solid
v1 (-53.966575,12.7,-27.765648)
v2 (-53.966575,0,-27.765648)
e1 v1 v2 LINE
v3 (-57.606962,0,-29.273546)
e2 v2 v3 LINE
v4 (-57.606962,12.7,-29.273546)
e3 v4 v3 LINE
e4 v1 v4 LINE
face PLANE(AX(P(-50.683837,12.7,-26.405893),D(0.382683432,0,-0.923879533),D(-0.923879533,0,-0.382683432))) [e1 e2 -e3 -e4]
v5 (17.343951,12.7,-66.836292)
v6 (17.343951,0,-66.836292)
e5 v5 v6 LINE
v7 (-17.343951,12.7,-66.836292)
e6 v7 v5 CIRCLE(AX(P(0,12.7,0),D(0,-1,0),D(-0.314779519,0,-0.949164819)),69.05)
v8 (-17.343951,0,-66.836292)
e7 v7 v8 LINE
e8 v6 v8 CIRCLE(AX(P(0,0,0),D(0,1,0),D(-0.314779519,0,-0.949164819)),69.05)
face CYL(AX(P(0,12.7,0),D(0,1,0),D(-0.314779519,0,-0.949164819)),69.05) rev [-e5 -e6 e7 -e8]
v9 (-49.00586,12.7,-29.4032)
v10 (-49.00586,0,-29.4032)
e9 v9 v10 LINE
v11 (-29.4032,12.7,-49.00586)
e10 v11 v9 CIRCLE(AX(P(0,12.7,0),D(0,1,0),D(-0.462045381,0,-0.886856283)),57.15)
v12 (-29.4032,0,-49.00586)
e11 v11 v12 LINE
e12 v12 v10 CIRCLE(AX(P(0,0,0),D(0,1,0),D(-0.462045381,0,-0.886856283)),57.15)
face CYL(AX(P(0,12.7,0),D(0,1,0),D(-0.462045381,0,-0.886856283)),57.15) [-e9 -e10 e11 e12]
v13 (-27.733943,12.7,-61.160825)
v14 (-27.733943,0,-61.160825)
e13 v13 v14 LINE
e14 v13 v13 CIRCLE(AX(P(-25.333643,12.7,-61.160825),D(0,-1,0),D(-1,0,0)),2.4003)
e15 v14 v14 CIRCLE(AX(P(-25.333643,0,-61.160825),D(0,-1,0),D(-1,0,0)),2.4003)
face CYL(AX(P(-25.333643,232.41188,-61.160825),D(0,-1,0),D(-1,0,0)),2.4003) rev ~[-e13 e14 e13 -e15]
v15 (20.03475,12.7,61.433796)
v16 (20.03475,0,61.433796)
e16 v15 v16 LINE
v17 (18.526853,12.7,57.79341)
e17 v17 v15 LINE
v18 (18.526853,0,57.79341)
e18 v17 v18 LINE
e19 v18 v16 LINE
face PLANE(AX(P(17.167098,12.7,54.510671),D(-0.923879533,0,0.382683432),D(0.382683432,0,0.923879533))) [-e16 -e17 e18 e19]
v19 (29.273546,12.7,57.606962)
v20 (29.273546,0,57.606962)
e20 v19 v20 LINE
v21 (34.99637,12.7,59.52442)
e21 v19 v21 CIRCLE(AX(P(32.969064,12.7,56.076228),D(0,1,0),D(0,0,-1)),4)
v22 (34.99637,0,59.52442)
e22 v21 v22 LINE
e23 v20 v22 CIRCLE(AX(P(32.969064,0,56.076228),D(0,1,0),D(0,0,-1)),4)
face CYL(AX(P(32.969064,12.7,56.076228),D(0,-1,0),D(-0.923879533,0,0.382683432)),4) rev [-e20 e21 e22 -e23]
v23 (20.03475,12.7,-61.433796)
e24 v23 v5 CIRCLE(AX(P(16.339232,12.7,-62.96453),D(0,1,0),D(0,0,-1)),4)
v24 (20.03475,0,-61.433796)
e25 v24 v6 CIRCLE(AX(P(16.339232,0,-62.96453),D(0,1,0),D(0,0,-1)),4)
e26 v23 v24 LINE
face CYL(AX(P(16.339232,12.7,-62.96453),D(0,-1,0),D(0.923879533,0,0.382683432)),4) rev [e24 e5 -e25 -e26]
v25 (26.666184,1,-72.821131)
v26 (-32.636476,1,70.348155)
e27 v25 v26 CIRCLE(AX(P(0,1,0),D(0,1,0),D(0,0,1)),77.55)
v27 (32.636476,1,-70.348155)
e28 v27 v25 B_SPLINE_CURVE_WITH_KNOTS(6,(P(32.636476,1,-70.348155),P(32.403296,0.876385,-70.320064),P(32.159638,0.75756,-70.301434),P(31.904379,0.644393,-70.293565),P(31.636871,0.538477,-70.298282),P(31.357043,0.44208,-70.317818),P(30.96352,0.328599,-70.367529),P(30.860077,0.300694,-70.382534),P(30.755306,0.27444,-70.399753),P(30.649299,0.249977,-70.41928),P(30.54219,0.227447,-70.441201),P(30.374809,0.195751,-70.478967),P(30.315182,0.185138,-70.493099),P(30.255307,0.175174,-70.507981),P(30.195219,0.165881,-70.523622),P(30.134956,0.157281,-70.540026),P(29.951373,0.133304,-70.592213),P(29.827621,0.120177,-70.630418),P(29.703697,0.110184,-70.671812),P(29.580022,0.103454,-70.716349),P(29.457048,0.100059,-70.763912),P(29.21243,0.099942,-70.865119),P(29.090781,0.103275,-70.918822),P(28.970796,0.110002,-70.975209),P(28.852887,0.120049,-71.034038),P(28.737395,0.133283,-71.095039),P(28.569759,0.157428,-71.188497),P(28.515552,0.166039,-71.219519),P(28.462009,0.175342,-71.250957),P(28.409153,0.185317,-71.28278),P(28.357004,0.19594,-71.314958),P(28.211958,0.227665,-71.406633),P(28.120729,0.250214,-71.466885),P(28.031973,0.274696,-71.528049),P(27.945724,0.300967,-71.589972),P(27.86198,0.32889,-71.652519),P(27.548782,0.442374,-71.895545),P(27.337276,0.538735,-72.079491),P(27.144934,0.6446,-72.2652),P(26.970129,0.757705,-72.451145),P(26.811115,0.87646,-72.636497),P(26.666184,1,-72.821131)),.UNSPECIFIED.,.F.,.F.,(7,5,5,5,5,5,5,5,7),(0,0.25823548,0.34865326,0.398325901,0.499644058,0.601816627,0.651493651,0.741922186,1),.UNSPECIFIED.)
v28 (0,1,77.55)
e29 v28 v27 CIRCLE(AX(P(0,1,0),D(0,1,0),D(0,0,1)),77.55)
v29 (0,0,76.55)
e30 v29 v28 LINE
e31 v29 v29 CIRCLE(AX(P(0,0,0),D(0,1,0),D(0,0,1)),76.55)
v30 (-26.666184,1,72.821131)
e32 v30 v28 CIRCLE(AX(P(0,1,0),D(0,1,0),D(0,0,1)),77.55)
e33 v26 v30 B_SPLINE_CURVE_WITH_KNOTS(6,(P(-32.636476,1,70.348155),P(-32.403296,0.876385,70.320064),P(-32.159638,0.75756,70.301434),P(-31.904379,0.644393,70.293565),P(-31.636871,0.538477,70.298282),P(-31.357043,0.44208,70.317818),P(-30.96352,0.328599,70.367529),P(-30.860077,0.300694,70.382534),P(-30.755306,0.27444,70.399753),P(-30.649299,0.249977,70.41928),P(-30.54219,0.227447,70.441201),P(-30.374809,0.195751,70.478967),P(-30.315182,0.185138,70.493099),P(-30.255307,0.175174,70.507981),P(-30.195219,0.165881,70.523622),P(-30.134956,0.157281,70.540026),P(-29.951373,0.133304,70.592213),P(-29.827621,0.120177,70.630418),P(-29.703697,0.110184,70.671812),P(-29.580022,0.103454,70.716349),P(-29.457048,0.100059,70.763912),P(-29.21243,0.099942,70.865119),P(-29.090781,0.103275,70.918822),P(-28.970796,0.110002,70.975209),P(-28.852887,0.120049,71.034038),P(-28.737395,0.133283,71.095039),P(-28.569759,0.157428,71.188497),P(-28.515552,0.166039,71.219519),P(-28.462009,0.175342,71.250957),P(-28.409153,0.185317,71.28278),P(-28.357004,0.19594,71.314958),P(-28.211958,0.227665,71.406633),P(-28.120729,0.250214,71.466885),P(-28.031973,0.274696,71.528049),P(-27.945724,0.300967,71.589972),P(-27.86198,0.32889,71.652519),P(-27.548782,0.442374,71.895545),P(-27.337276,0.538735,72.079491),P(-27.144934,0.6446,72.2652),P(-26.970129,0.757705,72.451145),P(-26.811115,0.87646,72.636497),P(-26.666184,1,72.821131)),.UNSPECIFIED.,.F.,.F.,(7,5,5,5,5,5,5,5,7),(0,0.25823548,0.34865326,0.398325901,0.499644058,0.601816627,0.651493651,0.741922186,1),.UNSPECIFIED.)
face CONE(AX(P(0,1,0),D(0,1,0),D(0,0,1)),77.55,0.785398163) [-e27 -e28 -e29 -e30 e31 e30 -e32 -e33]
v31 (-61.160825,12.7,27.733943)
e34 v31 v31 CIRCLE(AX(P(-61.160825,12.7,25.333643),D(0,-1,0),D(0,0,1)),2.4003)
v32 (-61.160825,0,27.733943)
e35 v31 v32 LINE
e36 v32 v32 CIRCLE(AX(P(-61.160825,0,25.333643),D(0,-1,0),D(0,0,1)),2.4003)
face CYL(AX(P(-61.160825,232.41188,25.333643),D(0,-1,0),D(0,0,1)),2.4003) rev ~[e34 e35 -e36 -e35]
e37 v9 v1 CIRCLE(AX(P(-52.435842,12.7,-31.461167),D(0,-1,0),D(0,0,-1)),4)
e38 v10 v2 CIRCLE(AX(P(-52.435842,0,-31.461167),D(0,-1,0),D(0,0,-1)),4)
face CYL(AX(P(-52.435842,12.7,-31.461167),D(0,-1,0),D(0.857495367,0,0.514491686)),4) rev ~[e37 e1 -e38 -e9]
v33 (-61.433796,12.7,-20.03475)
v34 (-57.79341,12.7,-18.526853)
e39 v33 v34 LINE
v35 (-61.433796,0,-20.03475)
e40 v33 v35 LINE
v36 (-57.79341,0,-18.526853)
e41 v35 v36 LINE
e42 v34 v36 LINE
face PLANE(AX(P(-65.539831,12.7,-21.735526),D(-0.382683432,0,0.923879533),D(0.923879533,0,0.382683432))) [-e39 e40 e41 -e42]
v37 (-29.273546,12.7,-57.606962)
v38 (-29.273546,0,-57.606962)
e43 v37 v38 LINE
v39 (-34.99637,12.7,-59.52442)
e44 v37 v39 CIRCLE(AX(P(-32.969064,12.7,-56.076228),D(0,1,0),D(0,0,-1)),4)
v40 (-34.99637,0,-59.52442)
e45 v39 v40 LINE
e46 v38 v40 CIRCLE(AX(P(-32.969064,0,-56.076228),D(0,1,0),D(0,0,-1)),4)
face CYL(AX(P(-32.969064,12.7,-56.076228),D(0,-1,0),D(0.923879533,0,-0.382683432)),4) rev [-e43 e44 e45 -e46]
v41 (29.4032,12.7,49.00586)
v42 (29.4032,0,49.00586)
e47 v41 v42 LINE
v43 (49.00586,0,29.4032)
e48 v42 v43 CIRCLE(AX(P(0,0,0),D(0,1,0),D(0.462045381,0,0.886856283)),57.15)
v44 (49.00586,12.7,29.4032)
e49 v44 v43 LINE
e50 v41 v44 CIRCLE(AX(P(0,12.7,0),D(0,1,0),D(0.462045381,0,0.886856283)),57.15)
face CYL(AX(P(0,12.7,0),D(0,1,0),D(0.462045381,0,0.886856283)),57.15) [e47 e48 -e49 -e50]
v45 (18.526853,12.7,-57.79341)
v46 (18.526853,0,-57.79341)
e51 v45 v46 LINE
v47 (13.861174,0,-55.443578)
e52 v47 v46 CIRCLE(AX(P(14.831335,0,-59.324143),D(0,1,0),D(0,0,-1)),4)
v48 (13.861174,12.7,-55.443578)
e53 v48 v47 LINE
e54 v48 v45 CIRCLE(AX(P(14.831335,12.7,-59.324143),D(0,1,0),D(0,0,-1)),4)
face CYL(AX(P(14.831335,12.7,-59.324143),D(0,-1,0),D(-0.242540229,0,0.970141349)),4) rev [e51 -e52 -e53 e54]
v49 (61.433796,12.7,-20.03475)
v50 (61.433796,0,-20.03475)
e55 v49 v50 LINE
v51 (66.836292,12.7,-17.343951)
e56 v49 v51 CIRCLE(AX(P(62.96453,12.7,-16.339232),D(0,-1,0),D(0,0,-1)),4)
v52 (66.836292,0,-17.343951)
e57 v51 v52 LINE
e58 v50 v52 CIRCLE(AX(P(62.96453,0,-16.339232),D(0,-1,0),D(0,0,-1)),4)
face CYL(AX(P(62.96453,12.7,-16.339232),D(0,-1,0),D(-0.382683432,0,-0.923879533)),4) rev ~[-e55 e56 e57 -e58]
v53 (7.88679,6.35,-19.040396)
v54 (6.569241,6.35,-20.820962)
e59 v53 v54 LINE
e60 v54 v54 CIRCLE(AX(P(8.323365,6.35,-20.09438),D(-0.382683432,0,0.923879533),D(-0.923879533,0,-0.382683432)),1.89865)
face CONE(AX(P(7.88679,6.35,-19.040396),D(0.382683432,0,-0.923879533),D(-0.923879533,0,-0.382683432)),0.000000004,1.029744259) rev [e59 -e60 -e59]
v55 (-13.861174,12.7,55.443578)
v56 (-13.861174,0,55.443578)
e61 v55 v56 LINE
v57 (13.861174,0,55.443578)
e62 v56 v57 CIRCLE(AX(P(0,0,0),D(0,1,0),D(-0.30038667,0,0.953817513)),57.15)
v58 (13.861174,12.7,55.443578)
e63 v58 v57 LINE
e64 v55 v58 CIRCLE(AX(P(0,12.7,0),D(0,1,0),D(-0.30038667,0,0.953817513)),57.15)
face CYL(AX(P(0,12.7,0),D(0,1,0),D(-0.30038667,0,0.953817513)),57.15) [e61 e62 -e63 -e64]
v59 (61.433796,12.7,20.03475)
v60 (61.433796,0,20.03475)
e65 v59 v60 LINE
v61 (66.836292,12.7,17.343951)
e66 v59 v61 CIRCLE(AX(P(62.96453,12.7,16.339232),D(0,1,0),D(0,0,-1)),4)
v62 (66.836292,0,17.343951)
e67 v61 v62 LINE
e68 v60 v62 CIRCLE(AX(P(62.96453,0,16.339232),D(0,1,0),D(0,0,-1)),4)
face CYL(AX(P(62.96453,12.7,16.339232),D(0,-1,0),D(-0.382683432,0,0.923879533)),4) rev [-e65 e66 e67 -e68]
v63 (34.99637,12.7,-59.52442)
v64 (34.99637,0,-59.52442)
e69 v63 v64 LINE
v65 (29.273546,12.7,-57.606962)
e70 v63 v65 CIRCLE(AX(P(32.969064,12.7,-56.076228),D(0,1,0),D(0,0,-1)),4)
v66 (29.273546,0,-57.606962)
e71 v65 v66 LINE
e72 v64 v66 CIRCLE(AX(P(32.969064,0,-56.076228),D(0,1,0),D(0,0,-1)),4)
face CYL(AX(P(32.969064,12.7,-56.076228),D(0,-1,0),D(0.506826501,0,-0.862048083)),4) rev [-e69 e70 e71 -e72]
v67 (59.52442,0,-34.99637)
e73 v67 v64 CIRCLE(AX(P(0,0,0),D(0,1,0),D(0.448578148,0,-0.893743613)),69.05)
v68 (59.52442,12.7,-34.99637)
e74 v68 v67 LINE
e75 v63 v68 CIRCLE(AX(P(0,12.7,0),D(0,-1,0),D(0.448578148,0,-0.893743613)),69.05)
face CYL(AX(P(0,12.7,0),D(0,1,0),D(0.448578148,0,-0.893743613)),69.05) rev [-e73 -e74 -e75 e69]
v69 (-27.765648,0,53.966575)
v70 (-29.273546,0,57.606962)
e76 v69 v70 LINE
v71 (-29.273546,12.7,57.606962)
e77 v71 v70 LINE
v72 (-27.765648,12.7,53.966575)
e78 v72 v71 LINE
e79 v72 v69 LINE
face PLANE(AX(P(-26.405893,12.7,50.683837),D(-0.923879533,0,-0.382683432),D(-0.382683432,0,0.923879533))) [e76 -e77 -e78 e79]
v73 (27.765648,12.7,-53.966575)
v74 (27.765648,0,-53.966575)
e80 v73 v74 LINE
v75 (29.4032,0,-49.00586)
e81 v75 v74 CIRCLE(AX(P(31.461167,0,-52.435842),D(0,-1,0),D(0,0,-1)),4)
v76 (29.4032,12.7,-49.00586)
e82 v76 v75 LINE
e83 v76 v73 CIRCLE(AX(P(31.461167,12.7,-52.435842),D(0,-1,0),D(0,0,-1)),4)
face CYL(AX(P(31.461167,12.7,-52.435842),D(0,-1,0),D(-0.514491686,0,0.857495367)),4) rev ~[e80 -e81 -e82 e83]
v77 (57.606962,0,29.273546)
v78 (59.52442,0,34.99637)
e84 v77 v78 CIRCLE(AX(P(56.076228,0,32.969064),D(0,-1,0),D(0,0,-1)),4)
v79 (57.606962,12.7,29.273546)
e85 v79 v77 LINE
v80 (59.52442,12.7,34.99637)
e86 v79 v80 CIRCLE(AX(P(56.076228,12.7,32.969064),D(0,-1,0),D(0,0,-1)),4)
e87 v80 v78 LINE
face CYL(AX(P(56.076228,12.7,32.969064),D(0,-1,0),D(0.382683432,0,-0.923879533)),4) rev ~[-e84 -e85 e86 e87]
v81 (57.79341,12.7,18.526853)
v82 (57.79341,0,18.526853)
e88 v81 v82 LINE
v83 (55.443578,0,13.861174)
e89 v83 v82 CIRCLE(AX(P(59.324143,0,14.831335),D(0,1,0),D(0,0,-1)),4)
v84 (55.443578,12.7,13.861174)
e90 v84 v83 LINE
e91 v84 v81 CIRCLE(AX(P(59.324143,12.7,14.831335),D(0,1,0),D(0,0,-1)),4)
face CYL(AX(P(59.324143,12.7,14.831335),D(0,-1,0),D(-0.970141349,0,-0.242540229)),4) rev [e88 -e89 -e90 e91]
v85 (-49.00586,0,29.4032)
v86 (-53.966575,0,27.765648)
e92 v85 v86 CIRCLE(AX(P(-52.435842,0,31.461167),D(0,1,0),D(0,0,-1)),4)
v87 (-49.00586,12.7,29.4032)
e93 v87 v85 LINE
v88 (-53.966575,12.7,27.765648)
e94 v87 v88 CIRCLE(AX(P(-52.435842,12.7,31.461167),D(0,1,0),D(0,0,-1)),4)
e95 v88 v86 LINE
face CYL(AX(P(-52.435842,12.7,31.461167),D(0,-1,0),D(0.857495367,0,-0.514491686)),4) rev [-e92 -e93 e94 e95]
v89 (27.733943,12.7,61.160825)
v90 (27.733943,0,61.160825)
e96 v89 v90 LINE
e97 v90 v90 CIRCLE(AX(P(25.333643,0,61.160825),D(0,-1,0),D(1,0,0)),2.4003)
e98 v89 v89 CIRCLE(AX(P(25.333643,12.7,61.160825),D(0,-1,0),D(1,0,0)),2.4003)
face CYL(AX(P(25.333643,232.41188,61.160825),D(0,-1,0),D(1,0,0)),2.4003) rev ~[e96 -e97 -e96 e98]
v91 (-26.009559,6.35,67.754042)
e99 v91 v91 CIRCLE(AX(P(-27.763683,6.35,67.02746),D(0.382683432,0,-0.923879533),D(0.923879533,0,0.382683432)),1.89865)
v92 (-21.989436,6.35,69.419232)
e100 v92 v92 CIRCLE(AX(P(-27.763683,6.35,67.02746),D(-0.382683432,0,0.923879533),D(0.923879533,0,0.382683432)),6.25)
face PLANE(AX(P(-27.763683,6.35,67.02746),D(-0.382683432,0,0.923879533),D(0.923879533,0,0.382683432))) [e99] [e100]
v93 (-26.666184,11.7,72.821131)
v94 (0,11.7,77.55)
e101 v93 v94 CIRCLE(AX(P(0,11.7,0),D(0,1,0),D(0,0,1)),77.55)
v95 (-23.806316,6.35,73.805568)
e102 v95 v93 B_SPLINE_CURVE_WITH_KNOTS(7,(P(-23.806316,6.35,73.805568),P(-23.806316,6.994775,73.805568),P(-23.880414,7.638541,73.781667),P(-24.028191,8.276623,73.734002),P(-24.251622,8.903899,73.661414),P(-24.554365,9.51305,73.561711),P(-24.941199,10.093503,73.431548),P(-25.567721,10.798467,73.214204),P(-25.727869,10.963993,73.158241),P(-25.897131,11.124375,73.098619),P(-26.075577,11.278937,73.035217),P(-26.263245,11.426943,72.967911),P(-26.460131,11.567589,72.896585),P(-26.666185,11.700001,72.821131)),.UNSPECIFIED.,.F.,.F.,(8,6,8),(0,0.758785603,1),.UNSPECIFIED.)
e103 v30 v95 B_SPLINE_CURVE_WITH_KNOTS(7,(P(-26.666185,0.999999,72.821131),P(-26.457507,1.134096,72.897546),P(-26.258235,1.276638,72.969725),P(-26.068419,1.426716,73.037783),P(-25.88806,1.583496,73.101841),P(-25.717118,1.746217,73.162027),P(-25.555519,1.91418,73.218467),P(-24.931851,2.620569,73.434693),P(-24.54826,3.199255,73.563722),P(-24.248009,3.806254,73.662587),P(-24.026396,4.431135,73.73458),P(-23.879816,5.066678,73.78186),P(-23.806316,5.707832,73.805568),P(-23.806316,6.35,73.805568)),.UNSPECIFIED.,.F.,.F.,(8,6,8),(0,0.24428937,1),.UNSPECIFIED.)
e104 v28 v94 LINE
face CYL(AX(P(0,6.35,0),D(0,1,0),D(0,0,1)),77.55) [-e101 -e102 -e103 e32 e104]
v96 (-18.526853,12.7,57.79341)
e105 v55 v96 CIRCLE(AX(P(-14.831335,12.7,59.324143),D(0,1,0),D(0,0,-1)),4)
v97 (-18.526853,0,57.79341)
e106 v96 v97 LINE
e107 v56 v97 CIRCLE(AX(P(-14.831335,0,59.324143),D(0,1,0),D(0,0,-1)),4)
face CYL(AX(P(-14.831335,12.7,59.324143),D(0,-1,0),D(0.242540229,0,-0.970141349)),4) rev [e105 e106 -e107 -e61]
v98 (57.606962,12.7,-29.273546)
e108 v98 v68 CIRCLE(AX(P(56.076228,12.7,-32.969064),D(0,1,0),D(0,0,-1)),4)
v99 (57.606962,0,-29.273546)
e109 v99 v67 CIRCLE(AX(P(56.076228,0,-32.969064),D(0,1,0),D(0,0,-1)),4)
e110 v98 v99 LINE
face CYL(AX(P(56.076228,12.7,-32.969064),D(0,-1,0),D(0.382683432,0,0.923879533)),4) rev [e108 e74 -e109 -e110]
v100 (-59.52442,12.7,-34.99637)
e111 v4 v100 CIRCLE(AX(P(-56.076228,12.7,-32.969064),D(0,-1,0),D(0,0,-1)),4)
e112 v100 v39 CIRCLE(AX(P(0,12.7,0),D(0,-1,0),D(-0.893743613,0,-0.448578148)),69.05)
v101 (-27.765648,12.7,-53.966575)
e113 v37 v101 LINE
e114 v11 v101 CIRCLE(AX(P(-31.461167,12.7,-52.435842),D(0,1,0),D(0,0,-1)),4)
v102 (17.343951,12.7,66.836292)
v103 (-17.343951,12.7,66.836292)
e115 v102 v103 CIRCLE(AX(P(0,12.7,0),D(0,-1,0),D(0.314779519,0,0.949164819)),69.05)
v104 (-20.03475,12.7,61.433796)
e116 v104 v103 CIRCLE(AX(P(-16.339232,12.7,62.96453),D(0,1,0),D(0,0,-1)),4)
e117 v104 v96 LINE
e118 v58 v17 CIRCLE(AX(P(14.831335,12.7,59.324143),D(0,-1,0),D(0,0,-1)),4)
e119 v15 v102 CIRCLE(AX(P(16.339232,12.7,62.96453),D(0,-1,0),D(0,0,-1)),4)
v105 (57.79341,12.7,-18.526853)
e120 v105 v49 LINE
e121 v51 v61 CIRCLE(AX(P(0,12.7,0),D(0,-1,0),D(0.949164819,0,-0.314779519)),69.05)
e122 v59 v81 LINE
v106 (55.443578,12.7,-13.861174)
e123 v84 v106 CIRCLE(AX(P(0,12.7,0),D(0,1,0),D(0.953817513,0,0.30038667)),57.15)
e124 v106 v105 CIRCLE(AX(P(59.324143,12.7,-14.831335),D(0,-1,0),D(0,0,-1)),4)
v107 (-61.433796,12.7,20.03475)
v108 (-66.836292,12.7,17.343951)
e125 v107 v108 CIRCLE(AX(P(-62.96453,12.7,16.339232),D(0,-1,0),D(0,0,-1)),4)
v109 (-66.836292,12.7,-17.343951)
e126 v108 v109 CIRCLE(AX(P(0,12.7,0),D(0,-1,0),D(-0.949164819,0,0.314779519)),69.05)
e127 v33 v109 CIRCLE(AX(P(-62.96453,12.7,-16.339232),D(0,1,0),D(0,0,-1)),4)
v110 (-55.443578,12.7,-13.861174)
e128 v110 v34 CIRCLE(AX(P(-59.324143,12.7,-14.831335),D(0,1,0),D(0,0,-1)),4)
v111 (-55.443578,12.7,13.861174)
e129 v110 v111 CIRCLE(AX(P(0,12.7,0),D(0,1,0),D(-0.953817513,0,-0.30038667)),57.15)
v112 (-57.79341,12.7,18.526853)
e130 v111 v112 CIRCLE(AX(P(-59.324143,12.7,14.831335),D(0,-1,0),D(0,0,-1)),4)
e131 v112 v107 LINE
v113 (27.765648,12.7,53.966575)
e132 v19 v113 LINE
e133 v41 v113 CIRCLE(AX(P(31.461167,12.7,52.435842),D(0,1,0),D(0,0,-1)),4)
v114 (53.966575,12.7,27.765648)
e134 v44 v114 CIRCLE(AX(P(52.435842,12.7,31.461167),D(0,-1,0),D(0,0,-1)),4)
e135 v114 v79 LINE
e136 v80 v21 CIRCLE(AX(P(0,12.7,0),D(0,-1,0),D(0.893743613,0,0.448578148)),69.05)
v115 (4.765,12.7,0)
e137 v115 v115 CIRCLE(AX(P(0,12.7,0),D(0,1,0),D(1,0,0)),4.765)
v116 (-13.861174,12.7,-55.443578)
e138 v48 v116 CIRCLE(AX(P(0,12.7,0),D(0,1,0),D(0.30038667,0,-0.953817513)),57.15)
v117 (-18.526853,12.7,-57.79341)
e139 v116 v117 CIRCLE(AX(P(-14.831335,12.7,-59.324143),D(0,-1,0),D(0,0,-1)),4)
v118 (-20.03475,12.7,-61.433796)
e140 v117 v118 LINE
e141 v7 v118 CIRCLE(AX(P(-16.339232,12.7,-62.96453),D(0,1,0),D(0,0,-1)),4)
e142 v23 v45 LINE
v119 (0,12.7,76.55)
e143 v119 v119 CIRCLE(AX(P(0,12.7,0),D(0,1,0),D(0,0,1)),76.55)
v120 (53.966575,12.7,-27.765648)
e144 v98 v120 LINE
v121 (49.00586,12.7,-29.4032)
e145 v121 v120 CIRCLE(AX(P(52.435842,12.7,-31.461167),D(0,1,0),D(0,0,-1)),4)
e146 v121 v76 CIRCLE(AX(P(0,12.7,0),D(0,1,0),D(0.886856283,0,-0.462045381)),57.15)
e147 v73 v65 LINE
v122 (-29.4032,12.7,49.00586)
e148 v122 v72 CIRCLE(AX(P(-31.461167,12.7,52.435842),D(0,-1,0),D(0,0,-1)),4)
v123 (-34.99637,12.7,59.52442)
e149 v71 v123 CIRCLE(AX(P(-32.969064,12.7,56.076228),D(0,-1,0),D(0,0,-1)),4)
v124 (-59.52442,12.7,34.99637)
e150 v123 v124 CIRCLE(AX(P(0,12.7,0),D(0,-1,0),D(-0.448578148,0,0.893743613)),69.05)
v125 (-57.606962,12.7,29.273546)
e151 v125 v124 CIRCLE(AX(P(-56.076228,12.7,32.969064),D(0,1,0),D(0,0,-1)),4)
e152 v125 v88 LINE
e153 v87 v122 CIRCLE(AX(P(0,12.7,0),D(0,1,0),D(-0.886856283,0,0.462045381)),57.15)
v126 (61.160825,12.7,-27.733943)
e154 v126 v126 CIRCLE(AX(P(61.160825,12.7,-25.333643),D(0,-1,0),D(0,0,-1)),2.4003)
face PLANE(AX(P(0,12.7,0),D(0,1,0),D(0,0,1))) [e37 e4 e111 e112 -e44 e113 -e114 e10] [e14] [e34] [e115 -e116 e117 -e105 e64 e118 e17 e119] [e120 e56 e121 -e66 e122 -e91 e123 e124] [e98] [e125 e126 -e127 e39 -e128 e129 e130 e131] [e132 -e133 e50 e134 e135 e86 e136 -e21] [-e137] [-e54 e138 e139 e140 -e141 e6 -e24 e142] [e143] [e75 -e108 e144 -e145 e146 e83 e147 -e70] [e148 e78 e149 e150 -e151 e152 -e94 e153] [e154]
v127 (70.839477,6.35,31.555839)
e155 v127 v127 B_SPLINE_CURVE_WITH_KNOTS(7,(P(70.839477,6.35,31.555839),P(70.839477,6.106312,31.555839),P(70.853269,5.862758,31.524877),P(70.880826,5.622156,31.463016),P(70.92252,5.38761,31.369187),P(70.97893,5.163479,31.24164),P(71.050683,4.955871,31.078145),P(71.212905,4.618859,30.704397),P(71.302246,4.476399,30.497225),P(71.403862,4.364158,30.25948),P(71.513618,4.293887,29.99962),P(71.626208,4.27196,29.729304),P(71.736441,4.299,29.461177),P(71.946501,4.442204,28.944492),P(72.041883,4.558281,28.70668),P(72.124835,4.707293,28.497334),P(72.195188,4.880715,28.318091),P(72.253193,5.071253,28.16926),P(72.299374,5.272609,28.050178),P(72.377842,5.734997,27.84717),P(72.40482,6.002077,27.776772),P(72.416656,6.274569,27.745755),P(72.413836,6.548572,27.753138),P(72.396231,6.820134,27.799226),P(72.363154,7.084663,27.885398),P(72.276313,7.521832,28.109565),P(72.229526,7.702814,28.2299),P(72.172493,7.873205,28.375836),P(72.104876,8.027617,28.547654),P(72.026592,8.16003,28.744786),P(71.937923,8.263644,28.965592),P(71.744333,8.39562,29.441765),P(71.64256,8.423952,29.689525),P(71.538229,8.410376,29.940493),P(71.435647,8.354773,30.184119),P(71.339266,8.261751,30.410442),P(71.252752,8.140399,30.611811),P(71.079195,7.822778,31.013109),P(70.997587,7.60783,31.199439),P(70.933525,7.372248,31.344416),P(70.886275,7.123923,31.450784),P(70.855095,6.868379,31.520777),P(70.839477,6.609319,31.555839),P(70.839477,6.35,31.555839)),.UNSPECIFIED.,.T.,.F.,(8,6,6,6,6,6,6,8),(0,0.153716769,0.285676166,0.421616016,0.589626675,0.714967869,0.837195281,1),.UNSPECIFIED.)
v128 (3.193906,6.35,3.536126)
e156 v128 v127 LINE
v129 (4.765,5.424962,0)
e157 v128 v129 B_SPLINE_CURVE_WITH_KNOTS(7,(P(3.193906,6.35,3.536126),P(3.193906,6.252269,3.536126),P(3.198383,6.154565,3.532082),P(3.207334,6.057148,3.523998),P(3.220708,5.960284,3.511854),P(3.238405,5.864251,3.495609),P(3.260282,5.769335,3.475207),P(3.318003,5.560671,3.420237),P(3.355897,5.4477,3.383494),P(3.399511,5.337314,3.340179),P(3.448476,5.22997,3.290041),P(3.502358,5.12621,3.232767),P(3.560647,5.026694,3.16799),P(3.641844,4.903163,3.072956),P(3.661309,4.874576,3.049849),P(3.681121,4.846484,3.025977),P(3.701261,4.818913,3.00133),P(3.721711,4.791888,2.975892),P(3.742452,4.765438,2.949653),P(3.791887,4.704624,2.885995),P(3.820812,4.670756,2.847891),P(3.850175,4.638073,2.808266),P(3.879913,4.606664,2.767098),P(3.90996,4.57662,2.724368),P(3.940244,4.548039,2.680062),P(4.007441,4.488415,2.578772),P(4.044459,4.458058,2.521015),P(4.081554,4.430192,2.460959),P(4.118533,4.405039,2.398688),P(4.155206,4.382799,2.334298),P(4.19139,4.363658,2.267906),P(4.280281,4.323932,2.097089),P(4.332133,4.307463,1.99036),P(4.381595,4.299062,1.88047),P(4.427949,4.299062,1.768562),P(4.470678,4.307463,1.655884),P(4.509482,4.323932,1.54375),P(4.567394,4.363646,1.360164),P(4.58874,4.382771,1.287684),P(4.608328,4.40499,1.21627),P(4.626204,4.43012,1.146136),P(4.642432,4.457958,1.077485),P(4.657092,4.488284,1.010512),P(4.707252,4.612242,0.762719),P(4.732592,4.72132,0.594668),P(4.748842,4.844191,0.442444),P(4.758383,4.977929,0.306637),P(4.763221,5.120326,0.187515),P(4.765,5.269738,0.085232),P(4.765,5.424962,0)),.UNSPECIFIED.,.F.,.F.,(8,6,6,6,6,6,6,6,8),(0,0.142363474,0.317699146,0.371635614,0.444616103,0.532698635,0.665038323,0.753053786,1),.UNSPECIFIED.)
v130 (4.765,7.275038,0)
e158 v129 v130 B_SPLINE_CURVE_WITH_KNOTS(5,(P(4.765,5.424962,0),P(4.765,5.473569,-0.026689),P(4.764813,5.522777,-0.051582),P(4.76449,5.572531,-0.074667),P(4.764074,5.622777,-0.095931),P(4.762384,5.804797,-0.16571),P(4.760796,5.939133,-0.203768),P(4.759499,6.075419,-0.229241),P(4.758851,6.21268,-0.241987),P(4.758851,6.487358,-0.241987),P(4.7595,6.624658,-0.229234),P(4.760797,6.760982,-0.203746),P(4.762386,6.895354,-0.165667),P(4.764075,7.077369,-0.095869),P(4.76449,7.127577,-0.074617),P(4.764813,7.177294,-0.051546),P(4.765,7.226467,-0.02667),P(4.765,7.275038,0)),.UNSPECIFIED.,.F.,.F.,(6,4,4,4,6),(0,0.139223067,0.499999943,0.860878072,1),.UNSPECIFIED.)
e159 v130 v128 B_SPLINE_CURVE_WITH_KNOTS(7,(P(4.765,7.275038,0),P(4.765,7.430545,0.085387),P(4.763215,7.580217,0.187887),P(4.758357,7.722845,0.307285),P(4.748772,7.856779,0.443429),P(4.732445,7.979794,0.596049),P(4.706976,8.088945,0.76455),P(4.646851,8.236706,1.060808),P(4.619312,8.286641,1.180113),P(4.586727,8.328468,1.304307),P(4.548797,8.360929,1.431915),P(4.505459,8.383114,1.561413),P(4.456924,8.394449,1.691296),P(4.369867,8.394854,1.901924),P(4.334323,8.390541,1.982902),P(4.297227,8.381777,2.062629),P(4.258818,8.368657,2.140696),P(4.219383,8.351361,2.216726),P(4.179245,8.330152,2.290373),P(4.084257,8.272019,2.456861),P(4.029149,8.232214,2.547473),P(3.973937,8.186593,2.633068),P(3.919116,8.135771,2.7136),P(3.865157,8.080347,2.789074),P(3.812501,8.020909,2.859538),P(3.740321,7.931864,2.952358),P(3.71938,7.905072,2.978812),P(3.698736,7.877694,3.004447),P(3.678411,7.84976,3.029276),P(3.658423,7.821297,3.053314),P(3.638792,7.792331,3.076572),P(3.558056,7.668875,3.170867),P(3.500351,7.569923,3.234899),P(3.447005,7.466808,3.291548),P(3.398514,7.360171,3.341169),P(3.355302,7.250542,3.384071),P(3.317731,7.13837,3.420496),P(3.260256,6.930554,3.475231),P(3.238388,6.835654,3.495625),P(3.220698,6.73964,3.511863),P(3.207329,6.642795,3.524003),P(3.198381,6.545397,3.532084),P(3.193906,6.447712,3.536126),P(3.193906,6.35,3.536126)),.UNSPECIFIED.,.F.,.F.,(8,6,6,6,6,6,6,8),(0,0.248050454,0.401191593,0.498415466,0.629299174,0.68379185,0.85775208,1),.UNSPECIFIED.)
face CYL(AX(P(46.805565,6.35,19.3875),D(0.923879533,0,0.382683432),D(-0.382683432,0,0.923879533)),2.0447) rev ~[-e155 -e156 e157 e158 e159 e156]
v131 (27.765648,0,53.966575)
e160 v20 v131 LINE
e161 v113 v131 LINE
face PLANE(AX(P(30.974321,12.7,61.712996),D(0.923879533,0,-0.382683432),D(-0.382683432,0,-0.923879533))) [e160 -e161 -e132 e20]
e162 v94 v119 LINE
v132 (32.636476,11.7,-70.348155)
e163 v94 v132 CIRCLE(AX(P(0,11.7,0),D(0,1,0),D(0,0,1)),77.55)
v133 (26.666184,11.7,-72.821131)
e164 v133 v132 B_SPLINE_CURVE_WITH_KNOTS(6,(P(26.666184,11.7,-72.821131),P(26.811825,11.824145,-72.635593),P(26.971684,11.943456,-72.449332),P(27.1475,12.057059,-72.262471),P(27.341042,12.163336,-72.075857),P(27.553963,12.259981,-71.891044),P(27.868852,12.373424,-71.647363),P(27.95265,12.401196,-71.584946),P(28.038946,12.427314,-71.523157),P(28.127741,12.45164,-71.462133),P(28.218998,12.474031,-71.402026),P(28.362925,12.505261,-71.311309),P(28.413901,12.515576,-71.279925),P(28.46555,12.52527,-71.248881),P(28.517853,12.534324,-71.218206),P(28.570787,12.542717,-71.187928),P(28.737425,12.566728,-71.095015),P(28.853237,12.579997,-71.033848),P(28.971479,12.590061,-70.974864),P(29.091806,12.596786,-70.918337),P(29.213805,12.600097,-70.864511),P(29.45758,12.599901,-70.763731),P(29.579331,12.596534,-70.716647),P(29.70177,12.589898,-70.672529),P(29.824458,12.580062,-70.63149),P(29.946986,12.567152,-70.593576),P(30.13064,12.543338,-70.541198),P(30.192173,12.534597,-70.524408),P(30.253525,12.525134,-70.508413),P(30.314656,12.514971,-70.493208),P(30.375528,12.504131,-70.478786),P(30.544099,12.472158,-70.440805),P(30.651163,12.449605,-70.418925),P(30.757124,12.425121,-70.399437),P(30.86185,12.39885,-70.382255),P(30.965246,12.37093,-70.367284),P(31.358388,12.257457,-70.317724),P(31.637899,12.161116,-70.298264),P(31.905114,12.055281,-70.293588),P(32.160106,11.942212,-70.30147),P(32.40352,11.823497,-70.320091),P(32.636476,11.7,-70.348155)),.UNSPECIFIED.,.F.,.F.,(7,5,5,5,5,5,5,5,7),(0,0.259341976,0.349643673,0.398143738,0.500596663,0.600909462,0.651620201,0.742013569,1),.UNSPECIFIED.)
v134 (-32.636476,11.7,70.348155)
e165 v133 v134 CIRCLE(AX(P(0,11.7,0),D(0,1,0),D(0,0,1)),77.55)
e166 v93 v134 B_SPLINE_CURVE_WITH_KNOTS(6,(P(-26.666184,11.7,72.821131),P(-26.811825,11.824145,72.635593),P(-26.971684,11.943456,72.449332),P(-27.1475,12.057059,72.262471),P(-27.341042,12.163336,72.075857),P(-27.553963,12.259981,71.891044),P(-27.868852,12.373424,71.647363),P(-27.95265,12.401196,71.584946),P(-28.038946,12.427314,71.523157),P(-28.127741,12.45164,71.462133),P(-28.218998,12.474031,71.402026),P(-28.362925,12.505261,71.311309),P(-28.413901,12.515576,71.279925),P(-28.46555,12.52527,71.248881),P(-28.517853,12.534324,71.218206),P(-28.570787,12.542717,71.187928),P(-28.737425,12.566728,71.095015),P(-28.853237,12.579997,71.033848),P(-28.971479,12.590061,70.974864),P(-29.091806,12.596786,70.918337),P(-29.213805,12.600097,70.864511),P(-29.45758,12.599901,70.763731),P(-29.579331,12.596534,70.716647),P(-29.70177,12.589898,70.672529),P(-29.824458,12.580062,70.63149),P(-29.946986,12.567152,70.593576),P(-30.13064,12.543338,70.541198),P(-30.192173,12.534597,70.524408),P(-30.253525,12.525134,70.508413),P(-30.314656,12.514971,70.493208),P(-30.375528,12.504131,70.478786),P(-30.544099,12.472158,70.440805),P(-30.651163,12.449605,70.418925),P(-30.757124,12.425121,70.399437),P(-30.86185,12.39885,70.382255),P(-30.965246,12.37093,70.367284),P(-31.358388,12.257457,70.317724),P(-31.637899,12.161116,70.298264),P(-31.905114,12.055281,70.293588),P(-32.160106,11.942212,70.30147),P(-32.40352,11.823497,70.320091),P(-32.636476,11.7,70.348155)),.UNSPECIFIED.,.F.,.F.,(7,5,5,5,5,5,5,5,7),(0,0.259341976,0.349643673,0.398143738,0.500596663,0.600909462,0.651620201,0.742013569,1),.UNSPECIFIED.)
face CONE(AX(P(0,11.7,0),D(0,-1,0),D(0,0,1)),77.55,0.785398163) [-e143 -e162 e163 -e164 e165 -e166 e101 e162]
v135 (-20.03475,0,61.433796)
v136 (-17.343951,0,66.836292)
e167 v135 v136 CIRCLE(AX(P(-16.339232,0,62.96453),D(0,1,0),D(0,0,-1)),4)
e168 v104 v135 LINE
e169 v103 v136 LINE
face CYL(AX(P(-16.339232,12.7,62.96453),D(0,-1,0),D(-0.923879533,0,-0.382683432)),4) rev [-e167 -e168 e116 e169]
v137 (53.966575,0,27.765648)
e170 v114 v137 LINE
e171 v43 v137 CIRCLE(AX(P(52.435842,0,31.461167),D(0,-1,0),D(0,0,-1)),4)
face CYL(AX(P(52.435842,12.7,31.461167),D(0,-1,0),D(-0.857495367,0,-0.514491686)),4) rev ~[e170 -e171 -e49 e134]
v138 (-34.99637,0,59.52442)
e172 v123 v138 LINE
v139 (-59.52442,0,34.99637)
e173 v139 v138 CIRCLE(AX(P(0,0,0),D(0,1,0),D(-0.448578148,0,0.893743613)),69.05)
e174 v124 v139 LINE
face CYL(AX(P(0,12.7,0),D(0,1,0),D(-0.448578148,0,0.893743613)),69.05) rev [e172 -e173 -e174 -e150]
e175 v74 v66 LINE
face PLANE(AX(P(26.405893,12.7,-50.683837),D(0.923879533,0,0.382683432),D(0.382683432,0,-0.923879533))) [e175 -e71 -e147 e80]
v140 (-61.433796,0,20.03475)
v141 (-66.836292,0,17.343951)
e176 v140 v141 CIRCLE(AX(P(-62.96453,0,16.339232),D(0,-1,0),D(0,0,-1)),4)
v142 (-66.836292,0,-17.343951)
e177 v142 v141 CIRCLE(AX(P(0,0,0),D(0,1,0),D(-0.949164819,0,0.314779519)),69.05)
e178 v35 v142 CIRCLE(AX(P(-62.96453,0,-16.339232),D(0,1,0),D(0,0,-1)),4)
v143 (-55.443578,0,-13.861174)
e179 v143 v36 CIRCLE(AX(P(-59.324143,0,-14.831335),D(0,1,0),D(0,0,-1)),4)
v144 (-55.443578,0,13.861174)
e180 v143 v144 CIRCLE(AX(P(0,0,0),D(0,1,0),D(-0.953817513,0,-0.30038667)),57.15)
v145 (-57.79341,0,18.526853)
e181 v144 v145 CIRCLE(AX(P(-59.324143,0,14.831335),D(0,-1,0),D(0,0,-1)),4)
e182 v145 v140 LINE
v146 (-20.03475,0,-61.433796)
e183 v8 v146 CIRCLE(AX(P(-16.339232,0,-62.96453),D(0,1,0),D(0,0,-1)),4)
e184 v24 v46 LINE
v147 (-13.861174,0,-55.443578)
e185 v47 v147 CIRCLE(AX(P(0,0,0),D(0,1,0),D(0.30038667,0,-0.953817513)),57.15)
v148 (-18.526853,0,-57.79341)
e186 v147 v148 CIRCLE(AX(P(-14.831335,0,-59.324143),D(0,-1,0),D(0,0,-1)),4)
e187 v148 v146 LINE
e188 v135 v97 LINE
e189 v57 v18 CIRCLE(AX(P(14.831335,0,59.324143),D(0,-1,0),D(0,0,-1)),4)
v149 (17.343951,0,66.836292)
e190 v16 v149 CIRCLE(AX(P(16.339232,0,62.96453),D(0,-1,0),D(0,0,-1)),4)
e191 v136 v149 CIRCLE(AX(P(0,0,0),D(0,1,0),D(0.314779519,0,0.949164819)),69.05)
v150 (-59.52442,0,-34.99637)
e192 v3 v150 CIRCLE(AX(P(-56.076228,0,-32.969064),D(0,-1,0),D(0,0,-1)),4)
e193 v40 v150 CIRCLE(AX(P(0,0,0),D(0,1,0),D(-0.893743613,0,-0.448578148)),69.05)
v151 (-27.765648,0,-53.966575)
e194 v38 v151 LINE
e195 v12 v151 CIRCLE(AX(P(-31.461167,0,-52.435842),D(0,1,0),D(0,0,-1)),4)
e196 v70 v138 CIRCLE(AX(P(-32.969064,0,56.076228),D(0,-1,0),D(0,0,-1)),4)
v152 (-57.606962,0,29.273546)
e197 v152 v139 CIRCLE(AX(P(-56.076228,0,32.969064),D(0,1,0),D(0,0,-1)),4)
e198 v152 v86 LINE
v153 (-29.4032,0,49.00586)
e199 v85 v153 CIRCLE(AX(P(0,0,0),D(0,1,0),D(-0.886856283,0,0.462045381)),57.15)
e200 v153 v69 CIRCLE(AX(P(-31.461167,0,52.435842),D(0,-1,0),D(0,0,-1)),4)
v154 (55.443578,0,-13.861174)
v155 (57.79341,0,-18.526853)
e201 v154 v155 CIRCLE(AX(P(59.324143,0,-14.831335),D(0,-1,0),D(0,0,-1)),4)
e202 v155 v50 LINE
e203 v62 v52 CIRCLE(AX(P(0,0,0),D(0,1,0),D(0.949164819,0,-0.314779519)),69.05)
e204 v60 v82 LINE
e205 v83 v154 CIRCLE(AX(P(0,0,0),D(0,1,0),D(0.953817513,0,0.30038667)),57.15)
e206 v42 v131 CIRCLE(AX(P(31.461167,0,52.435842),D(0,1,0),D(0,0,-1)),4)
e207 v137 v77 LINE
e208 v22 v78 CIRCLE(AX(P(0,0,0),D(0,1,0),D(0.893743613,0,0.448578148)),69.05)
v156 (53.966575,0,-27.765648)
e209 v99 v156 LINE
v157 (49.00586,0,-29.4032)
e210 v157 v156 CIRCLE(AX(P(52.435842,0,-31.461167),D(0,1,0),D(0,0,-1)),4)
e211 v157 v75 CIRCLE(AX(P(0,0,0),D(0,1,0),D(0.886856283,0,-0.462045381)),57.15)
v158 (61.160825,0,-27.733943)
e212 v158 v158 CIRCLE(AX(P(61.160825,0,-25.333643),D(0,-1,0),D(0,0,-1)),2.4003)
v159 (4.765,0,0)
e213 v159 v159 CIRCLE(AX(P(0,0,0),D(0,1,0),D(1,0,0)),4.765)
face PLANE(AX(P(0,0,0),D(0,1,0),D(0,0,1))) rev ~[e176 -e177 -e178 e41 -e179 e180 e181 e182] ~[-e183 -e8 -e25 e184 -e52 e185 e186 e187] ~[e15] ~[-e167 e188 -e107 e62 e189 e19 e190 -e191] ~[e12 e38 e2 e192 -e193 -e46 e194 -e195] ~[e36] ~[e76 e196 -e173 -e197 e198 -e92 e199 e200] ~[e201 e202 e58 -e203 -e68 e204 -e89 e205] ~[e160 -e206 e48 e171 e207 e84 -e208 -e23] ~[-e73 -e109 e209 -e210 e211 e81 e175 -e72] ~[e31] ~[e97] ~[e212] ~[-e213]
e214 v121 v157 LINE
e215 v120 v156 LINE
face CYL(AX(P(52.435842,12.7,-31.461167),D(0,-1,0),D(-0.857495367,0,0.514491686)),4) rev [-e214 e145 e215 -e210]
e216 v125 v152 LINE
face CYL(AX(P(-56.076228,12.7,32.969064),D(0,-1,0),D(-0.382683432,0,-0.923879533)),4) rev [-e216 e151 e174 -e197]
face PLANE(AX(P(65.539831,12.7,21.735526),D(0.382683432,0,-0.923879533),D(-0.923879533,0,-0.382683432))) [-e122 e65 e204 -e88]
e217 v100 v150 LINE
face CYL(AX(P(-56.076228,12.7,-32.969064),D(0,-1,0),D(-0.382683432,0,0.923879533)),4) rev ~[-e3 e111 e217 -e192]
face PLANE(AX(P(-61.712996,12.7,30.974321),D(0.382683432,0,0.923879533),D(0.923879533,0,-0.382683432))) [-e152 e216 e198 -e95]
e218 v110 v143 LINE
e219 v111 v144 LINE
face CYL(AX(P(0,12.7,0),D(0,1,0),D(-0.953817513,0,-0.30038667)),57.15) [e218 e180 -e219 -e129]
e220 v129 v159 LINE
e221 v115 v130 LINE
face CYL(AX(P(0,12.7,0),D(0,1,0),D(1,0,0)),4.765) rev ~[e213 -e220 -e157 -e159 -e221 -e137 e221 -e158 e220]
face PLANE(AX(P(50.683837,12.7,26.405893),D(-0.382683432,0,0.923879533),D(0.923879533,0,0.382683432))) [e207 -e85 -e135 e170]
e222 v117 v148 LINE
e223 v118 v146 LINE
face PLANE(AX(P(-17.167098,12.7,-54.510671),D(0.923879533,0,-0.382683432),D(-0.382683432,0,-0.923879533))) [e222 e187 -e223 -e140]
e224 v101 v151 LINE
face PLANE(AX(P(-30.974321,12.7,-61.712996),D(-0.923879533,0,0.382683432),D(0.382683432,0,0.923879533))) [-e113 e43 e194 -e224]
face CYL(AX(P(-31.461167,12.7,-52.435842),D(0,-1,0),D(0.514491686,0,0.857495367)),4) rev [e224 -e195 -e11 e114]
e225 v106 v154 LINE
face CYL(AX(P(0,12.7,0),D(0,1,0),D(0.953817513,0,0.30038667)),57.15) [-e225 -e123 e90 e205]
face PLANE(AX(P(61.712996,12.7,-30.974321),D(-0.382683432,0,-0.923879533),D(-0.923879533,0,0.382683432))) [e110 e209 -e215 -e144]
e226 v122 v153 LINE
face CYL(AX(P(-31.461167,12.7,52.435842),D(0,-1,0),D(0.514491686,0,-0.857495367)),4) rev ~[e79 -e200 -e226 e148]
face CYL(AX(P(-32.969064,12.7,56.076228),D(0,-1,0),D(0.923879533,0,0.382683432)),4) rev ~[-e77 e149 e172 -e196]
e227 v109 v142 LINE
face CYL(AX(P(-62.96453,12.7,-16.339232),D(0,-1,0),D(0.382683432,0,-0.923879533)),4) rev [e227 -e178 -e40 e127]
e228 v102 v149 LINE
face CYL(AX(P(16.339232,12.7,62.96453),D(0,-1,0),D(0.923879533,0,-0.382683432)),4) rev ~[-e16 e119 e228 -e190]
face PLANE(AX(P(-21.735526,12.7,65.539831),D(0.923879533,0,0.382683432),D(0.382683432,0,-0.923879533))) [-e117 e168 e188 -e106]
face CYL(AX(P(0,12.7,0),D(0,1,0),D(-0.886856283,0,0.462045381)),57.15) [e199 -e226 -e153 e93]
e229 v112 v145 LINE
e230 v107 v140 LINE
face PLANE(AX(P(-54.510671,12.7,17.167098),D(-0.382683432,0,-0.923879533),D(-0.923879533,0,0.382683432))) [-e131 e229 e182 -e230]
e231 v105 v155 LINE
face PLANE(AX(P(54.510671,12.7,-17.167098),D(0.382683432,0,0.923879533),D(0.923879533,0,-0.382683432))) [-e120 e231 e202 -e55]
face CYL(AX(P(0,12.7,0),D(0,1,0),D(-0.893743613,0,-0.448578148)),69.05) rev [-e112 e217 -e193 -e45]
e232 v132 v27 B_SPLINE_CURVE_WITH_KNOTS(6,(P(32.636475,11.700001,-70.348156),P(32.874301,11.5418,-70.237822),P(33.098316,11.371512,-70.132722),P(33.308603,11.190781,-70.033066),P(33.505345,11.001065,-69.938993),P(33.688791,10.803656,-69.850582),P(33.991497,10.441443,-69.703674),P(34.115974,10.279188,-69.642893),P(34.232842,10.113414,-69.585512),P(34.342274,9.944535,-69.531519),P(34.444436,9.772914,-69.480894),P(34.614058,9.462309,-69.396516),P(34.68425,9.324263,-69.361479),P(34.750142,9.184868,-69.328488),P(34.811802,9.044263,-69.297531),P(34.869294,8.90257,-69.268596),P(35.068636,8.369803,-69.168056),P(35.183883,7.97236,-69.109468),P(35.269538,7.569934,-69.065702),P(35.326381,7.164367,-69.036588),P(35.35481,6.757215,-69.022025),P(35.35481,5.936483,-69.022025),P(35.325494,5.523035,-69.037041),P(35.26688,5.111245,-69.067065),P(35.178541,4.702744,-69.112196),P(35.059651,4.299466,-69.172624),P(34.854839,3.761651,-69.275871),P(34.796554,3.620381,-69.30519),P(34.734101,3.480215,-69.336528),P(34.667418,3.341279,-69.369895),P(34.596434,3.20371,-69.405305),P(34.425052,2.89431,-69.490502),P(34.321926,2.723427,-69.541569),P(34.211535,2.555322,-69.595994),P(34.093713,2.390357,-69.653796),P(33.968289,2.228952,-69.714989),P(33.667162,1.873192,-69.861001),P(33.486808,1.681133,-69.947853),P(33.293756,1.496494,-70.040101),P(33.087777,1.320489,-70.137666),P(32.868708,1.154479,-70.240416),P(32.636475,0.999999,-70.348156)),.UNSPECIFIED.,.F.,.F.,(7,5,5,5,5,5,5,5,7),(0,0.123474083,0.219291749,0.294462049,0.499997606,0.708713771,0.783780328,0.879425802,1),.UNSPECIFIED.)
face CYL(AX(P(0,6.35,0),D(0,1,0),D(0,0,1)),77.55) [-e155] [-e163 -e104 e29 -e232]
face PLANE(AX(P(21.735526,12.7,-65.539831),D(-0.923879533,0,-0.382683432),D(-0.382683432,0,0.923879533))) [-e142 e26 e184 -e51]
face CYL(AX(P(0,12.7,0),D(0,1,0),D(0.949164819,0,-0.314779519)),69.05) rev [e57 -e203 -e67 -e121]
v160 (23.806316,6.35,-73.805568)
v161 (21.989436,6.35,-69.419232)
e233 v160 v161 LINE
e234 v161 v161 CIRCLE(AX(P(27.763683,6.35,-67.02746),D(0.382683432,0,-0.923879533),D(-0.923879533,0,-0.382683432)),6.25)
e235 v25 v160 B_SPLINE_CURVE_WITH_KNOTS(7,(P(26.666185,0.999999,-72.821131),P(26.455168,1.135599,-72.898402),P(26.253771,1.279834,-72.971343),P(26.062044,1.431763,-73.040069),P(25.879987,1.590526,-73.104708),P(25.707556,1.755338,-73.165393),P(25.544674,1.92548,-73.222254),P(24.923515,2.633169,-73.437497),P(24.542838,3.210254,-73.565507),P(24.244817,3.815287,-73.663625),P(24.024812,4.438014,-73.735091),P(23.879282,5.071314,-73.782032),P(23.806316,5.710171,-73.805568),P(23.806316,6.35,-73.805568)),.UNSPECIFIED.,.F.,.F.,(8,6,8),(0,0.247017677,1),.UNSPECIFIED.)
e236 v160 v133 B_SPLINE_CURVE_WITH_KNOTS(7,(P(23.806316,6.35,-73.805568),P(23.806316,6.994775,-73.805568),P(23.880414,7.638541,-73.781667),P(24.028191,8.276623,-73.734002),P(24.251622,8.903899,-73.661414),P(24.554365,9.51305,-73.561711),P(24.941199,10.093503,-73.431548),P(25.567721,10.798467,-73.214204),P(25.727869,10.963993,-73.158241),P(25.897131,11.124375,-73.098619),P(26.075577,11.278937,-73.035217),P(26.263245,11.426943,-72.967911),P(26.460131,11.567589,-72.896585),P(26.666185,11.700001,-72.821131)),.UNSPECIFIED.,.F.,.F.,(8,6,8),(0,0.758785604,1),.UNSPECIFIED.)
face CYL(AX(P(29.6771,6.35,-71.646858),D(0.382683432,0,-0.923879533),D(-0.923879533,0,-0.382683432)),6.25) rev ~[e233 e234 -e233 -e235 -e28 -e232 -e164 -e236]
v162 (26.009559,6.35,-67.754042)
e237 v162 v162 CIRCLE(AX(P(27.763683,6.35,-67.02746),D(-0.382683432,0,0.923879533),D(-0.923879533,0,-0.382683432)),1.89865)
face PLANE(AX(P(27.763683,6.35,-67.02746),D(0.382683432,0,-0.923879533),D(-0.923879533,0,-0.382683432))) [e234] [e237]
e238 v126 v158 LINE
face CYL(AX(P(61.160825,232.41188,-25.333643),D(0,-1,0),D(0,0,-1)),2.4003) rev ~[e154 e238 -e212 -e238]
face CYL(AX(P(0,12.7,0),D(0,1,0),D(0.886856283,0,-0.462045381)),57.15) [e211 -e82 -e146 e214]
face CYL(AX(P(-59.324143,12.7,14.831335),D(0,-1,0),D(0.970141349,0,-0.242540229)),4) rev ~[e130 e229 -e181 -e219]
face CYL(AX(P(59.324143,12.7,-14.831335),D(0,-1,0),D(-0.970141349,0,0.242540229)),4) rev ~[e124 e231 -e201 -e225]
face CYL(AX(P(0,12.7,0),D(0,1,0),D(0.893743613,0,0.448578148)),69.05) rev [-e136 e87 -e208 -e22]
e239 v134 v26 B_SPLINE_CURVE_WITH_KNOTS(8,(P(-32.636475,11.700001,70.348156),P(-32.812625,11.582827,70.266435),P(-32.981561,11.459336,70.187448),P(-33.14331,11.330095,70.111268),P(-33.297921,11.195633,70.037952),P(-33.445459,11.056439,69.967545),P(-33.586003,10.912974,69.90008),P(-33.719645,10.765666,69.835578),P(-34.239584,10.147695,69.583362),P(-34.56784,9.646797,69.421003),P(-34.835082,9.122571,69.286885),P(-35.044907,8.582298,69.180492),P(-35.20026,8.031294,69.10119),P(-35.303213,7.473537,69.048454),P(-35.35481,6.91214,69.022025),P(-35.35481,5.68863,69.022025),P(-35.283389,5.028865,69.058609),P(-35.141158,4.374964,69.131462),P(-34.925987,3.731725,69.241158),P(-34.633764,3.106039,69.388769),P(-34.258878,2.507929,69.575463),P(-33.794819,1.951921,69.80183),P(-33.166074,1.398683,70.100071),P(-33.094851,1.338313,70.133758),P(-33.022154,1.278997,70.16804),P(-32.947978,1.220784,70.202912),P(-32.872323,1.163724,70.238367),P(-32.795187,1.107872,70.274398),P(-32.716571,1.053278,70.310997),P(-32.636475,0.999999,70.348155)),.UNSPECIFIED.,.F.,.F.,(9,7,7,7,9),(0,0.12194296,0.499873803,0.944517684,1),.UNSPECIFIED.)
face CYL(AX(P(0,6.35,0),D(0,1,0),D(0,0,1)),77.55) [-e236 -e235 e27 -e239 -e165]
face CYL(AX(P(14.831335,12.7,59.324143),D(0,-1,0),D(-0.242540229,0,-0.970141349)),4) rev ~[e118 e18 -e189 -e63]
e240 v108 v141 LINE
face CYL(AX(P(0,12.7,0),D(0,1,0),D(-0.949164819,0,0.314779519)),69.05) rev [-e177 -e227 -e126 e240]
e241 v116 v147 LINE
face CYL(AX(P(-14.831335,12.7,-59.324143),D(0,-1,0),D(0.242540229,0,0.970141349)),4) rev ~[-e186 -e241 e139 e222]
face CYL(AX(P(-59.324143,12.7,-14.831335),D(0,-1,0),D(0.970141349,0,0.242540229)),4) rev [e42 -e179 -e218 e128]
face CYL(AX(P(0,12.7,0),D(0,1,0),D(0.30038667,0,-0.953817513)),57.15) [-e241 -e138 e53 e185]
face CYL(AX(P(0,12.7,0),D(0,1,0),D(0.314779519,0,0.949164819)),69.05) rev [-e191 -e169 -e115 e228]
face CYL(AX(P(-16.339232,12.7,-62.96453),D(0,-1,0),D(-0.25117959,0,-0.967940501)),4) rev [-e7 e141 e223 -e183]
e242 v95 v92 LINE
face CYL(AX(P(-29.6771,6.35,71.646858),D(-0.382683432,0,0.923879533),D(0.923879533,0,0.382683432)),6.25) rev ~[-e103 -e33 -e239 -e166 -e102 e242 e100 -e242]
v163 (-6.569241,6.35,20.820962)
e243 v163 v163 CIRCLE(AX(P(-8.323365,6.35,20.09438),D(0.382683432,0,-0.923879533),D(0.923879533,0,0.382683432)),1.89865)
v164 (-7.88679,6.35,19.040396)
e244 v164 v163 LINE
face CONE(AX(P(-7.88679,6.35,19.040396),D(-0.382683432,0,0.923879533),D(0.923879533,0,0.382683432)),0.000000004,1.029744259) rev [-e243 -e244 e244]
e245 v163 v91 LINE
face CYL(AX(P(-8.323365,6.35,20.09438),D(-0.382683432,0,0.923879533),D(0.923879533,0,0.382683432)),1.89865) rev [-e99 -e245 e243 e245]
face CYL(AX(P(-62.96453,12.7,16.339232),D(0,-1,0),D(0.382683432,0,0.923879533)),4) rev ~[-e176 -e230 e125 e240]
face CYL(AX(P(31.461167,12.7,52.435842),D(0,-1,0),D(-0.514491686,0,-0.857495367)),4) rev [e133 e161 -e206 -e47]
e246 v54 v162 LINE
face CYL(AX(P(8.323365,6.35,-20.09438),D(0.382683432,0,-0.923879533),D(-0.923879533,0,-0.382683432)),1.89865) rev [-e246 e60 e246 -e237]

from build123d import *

# Parameters (mm, degrees)
SKETCH2_W                   = 77.55
SKETCH2_H                   = 12.7
F_12_0_189_DIAMETER_HOLE1_D = 4.8006
CIRPATTERN3_COUNT           = 4
CUT_EXTRUDE1_DEPTH          = 13.7
FILLET1_R                   = 4
CIRPATTERN4_COUNT           = 8
FILLET1_OF_CIRPATTERN4_R    = 4
CHAMFER1_SIZE               = 1
SKETCH15_W                  = 2.0447
SKETCH15_H                  = 101.323957926
SKETCH19_R                  = 6.25
CUT_EXTRUDE3_DEPTH          = 5
CIRPATTERN5_COUNT           = 2
CIRPATTERN6_COUNT           = 2
SKETCH22_R                  = 4.765
CUT_EXTRUDE4_DEPTH          = 12.8


with BuildPart() as part:
    # Sketch2 → Revolve1 (revolve)
    with BuildSketch(Plane(origin=(0, 0, 0), x_dir=(0, 0, -1), z_dir=(1, 0, 0))):
        with Locations((-38.775, 6.35)):
            Rectangle(SKETCH2_W, SKETCH2_H)
    revolve(axis=Axis((0, -0.888756804, 0), (0, 1, 0)))

    # #12 (0.189) Diameter Hole1 (through all)
    with Locations(Plane(origin=(0, 12.7, 0), x_dir=(1, 0, 0), z_dir=(0, 1, 0))):
        with Locations((-25.333643223, 61.160825052)):
            f_12_0_189_diameter_hole1 = Hole(F_12_0_189_DIAMETER_HOLE1_D / 2)

    # CirPattern3: #12 (0.189) Diameter Hole1 ×4 about axis
    cirpattern3_axis = Axis((0, 0, 0), (0, 1, 0))
    for i in range(1, CIRPATTERN3_COUNT):
        add(f_12_0_189_diameter_hole1.rotate(cirpattern3_axis, i * 360 / CIRPATTERN3_COUNT), mode=Mode.SUBTRACT)

    # Sketch8 → Cut-Extrude1 (cut, through all)
    with BuildSketch(Plane(origin=(0, 12.7, 0), x_dir=(1, 0, 0), z_dir=(0, 1, 0))):
        with BuildLine():
            Line((-17.167098173, 54.510670885), (-21.735525784, 65.539830782))
            ThreePointArc((-21.735525784, 65.539830782), (0, 69.05), (21.735525784, 65.539830782))
            Line((21.735525784, 65.539830782), (17.167098173, 54.510670885))
            ThreePointArc((17.167098173, 54.510670885), (0, 57.15), (-17.167098173, 54.510670885))
        make_face()
    cut_extrude1 = extrude(amount=-CUT_EXTRUDE1_DEPTH, mode=Mode.SUBTRACT)

    # Fillet1
    fillet1_edges = [part.edges().sort_by_distance(p)[0] for p in [
        (17.167098173, 6.35, -54.510670885),
        (-17.167098173, 6.35, -54.510670885),
        (-21.735525784, 6.35, -65.539830782),
        (21.735525784, 6.35, -65.539830782),
    ]]
    fillet(fillet1_edges, radius=FILLET1_R)

    # CirPattern4: Cut-Extrude1 ×8 about axis
    cirpattern4_axis = Axis((0, 0, 0), (0, 1, 0))
    for i in range(1, CIRPATTERN4_COUNT):
        add(cut_extrude1.rotate(cirpattern4_axis, i * 360 / CIRPATTERN4_COUNT), mode=Mode.SUBTRACT)

    # Fillet1 of CirPattern4
    fillet1_of_cirpattern4_edges = [part.edges().sort_by_distance(p)[0] for p in [
        (-26.405893498, 6.35, -50.683836561),
        (-50.683836561, 6.35, -26.405893498),
        (-61.712996458, 6.35, -30.974321109),
        (-30.974321109, 6.35, -61.712996458),
        (-54.510670885, 6.35, -17.167098173),
        (-54.510670885, 6.35, 17.167098173),
        (-65.539830782, 6.35, 21.735525784),
        (-65.539830782, 6.35, -21.735525784),
        (-50.683836561, 6.35, 26.405893498),
        (-26.405893498, 6.35, 50.683836561),
        (-30.974321109, 6.35, 61.712996458),
        (-61.712996458, 6.35, 30.974321109),
        (-17.167098173, 6.35, 54.510670885),
        (17.167098173, 6.35, 54.510670885),
        (21.735525784, 6.35, 65.539830782),
        (-21.735525784, 6.35, 65.539830782),
        (26.405893498, 6.35, 50.683836561),
        (50.683836561, 6.35, 26.405893498),
        (61.712996458, 6.35, 30.974321109),
        (30.974321109, 6.35, 61.712996458),
        (54.510670885, 6.35, 17.167098173),
        (54.510670885, 6.35, -17.167098173),
        (65.539830782, 6.35, -21.735525784),
        (65.539830782, 6.35, 21.735525784),
        (50.683836561, 6.35, -26.405893498),
        (26.405893498, 6.35, -50.683836561),
        (30.974321109, 6.35, -61.712996458),
        (61.712996458, 6.35, -30.974321109),
    ]]
    fillet(fillet1_of_cirpattern4_edges, radius=FILLET1_OF_CIRPATTERN4_R)

    # Chamfer1
    chamfer1_edges = [part.edges().sort_by_distance(p)[0] for p in [
        (0, 12.7, -77.55),
        (0, 0, -77.55),
    ]]
    chamfer(chamfer1_edges, length=CHAMFER1_SIZE)

    # Sketch15 → #20 (0.161) Diameter Hole1 (revolve, cut)
    with BuildSketch(Plane(origin=(0, 6.35, 0), x_dir=(-0.382683432, 0, 0.923879533), z_dir=(0, 1, 0))):
        with Locations((1.02235, 50.661978963)):
            Rectangle(SKETCH15_W, SKETCH15_H)
    revolve(axis=Axis((-5.866635031, 6.35, -2.430039796), (0.923879533, 0, 0.382683432)), mode=Mode.SUBTRACT)

    # Sketch19 → Cut-Extrude3 (cut)
    with BuildSketch(Plane(origin=(29.67710018, 0, -71.646857746), x_dir=(-0.923879533, 0, -0.382683432), z_dir=(0.382683432, 0, -0.923879533))):
        with Locations((0, 6.35)):
            Circle(SKETCH19_R)
    cut_extrude3 = extrude(amount=-CUT_EXTRUDE3_DEPTH, mode=Mode.SUBTRACT)

    # CirPattern5: Cut-Extrude3 ×2 about axis
    cirpattern5_axis = Axis((0, -0.888756804, 0), (0, 1, 0))
    for i in range(1, CIRPATTERN5_COUNT):
        add(cut_extrude3.rotate(cirpattern5_axis, i * 360 / CIRPATTERN5_COUNT), mode=Mode.SUBTRACT)

    # Sketch21 → #10-24 Tapped Hole1 (revolve, cut)
    with BuildSketch(Plane(origin=(-27.763683018, 6.35, 67.027460084), x_dir=(0.923879533, 0, 0.382683432), z_dir=(0, 1, 0))):
        Polygon((0, 0), (0, 51.940824014), (1.89865, 50.8), (1.89865, 0), align=None)
    f_10_24_tapped_hole1 = revolve(axis=Axis((-30.193722814, 6.35, 72.894095115), (0.382683432, 0, -0.923879533)), mode=Mode.SUBTRACT)

    # CirPattern6: #10-24 Tapped Hole1 ×2 about axis
    cirpattern6_axis = Axis((0, -0.888756804, 0), (0, 1, 0))
    for i in range(1, CIRPATTERN6_COUNT):
        add(f_10_24_tapped_hole1.rotate(cirpattern6_axis, i * 360 / CIRPATTERN6_COUNT), mode=Mode.SUBTRACT)

    # Sketch22 → Cut-Extrude4 (cut)
    with BuildSketch(Plane(origin=(0, 12.7, 0), x_dir=(1, 0, 0), z_dir=(0, 1, 0))):
        Circle(SKETCH22_R)
    extrude(amount=-CUT_EXTRUDE4_DEPTH, mode=Mode.SUBTRACT)


solid = part.part
